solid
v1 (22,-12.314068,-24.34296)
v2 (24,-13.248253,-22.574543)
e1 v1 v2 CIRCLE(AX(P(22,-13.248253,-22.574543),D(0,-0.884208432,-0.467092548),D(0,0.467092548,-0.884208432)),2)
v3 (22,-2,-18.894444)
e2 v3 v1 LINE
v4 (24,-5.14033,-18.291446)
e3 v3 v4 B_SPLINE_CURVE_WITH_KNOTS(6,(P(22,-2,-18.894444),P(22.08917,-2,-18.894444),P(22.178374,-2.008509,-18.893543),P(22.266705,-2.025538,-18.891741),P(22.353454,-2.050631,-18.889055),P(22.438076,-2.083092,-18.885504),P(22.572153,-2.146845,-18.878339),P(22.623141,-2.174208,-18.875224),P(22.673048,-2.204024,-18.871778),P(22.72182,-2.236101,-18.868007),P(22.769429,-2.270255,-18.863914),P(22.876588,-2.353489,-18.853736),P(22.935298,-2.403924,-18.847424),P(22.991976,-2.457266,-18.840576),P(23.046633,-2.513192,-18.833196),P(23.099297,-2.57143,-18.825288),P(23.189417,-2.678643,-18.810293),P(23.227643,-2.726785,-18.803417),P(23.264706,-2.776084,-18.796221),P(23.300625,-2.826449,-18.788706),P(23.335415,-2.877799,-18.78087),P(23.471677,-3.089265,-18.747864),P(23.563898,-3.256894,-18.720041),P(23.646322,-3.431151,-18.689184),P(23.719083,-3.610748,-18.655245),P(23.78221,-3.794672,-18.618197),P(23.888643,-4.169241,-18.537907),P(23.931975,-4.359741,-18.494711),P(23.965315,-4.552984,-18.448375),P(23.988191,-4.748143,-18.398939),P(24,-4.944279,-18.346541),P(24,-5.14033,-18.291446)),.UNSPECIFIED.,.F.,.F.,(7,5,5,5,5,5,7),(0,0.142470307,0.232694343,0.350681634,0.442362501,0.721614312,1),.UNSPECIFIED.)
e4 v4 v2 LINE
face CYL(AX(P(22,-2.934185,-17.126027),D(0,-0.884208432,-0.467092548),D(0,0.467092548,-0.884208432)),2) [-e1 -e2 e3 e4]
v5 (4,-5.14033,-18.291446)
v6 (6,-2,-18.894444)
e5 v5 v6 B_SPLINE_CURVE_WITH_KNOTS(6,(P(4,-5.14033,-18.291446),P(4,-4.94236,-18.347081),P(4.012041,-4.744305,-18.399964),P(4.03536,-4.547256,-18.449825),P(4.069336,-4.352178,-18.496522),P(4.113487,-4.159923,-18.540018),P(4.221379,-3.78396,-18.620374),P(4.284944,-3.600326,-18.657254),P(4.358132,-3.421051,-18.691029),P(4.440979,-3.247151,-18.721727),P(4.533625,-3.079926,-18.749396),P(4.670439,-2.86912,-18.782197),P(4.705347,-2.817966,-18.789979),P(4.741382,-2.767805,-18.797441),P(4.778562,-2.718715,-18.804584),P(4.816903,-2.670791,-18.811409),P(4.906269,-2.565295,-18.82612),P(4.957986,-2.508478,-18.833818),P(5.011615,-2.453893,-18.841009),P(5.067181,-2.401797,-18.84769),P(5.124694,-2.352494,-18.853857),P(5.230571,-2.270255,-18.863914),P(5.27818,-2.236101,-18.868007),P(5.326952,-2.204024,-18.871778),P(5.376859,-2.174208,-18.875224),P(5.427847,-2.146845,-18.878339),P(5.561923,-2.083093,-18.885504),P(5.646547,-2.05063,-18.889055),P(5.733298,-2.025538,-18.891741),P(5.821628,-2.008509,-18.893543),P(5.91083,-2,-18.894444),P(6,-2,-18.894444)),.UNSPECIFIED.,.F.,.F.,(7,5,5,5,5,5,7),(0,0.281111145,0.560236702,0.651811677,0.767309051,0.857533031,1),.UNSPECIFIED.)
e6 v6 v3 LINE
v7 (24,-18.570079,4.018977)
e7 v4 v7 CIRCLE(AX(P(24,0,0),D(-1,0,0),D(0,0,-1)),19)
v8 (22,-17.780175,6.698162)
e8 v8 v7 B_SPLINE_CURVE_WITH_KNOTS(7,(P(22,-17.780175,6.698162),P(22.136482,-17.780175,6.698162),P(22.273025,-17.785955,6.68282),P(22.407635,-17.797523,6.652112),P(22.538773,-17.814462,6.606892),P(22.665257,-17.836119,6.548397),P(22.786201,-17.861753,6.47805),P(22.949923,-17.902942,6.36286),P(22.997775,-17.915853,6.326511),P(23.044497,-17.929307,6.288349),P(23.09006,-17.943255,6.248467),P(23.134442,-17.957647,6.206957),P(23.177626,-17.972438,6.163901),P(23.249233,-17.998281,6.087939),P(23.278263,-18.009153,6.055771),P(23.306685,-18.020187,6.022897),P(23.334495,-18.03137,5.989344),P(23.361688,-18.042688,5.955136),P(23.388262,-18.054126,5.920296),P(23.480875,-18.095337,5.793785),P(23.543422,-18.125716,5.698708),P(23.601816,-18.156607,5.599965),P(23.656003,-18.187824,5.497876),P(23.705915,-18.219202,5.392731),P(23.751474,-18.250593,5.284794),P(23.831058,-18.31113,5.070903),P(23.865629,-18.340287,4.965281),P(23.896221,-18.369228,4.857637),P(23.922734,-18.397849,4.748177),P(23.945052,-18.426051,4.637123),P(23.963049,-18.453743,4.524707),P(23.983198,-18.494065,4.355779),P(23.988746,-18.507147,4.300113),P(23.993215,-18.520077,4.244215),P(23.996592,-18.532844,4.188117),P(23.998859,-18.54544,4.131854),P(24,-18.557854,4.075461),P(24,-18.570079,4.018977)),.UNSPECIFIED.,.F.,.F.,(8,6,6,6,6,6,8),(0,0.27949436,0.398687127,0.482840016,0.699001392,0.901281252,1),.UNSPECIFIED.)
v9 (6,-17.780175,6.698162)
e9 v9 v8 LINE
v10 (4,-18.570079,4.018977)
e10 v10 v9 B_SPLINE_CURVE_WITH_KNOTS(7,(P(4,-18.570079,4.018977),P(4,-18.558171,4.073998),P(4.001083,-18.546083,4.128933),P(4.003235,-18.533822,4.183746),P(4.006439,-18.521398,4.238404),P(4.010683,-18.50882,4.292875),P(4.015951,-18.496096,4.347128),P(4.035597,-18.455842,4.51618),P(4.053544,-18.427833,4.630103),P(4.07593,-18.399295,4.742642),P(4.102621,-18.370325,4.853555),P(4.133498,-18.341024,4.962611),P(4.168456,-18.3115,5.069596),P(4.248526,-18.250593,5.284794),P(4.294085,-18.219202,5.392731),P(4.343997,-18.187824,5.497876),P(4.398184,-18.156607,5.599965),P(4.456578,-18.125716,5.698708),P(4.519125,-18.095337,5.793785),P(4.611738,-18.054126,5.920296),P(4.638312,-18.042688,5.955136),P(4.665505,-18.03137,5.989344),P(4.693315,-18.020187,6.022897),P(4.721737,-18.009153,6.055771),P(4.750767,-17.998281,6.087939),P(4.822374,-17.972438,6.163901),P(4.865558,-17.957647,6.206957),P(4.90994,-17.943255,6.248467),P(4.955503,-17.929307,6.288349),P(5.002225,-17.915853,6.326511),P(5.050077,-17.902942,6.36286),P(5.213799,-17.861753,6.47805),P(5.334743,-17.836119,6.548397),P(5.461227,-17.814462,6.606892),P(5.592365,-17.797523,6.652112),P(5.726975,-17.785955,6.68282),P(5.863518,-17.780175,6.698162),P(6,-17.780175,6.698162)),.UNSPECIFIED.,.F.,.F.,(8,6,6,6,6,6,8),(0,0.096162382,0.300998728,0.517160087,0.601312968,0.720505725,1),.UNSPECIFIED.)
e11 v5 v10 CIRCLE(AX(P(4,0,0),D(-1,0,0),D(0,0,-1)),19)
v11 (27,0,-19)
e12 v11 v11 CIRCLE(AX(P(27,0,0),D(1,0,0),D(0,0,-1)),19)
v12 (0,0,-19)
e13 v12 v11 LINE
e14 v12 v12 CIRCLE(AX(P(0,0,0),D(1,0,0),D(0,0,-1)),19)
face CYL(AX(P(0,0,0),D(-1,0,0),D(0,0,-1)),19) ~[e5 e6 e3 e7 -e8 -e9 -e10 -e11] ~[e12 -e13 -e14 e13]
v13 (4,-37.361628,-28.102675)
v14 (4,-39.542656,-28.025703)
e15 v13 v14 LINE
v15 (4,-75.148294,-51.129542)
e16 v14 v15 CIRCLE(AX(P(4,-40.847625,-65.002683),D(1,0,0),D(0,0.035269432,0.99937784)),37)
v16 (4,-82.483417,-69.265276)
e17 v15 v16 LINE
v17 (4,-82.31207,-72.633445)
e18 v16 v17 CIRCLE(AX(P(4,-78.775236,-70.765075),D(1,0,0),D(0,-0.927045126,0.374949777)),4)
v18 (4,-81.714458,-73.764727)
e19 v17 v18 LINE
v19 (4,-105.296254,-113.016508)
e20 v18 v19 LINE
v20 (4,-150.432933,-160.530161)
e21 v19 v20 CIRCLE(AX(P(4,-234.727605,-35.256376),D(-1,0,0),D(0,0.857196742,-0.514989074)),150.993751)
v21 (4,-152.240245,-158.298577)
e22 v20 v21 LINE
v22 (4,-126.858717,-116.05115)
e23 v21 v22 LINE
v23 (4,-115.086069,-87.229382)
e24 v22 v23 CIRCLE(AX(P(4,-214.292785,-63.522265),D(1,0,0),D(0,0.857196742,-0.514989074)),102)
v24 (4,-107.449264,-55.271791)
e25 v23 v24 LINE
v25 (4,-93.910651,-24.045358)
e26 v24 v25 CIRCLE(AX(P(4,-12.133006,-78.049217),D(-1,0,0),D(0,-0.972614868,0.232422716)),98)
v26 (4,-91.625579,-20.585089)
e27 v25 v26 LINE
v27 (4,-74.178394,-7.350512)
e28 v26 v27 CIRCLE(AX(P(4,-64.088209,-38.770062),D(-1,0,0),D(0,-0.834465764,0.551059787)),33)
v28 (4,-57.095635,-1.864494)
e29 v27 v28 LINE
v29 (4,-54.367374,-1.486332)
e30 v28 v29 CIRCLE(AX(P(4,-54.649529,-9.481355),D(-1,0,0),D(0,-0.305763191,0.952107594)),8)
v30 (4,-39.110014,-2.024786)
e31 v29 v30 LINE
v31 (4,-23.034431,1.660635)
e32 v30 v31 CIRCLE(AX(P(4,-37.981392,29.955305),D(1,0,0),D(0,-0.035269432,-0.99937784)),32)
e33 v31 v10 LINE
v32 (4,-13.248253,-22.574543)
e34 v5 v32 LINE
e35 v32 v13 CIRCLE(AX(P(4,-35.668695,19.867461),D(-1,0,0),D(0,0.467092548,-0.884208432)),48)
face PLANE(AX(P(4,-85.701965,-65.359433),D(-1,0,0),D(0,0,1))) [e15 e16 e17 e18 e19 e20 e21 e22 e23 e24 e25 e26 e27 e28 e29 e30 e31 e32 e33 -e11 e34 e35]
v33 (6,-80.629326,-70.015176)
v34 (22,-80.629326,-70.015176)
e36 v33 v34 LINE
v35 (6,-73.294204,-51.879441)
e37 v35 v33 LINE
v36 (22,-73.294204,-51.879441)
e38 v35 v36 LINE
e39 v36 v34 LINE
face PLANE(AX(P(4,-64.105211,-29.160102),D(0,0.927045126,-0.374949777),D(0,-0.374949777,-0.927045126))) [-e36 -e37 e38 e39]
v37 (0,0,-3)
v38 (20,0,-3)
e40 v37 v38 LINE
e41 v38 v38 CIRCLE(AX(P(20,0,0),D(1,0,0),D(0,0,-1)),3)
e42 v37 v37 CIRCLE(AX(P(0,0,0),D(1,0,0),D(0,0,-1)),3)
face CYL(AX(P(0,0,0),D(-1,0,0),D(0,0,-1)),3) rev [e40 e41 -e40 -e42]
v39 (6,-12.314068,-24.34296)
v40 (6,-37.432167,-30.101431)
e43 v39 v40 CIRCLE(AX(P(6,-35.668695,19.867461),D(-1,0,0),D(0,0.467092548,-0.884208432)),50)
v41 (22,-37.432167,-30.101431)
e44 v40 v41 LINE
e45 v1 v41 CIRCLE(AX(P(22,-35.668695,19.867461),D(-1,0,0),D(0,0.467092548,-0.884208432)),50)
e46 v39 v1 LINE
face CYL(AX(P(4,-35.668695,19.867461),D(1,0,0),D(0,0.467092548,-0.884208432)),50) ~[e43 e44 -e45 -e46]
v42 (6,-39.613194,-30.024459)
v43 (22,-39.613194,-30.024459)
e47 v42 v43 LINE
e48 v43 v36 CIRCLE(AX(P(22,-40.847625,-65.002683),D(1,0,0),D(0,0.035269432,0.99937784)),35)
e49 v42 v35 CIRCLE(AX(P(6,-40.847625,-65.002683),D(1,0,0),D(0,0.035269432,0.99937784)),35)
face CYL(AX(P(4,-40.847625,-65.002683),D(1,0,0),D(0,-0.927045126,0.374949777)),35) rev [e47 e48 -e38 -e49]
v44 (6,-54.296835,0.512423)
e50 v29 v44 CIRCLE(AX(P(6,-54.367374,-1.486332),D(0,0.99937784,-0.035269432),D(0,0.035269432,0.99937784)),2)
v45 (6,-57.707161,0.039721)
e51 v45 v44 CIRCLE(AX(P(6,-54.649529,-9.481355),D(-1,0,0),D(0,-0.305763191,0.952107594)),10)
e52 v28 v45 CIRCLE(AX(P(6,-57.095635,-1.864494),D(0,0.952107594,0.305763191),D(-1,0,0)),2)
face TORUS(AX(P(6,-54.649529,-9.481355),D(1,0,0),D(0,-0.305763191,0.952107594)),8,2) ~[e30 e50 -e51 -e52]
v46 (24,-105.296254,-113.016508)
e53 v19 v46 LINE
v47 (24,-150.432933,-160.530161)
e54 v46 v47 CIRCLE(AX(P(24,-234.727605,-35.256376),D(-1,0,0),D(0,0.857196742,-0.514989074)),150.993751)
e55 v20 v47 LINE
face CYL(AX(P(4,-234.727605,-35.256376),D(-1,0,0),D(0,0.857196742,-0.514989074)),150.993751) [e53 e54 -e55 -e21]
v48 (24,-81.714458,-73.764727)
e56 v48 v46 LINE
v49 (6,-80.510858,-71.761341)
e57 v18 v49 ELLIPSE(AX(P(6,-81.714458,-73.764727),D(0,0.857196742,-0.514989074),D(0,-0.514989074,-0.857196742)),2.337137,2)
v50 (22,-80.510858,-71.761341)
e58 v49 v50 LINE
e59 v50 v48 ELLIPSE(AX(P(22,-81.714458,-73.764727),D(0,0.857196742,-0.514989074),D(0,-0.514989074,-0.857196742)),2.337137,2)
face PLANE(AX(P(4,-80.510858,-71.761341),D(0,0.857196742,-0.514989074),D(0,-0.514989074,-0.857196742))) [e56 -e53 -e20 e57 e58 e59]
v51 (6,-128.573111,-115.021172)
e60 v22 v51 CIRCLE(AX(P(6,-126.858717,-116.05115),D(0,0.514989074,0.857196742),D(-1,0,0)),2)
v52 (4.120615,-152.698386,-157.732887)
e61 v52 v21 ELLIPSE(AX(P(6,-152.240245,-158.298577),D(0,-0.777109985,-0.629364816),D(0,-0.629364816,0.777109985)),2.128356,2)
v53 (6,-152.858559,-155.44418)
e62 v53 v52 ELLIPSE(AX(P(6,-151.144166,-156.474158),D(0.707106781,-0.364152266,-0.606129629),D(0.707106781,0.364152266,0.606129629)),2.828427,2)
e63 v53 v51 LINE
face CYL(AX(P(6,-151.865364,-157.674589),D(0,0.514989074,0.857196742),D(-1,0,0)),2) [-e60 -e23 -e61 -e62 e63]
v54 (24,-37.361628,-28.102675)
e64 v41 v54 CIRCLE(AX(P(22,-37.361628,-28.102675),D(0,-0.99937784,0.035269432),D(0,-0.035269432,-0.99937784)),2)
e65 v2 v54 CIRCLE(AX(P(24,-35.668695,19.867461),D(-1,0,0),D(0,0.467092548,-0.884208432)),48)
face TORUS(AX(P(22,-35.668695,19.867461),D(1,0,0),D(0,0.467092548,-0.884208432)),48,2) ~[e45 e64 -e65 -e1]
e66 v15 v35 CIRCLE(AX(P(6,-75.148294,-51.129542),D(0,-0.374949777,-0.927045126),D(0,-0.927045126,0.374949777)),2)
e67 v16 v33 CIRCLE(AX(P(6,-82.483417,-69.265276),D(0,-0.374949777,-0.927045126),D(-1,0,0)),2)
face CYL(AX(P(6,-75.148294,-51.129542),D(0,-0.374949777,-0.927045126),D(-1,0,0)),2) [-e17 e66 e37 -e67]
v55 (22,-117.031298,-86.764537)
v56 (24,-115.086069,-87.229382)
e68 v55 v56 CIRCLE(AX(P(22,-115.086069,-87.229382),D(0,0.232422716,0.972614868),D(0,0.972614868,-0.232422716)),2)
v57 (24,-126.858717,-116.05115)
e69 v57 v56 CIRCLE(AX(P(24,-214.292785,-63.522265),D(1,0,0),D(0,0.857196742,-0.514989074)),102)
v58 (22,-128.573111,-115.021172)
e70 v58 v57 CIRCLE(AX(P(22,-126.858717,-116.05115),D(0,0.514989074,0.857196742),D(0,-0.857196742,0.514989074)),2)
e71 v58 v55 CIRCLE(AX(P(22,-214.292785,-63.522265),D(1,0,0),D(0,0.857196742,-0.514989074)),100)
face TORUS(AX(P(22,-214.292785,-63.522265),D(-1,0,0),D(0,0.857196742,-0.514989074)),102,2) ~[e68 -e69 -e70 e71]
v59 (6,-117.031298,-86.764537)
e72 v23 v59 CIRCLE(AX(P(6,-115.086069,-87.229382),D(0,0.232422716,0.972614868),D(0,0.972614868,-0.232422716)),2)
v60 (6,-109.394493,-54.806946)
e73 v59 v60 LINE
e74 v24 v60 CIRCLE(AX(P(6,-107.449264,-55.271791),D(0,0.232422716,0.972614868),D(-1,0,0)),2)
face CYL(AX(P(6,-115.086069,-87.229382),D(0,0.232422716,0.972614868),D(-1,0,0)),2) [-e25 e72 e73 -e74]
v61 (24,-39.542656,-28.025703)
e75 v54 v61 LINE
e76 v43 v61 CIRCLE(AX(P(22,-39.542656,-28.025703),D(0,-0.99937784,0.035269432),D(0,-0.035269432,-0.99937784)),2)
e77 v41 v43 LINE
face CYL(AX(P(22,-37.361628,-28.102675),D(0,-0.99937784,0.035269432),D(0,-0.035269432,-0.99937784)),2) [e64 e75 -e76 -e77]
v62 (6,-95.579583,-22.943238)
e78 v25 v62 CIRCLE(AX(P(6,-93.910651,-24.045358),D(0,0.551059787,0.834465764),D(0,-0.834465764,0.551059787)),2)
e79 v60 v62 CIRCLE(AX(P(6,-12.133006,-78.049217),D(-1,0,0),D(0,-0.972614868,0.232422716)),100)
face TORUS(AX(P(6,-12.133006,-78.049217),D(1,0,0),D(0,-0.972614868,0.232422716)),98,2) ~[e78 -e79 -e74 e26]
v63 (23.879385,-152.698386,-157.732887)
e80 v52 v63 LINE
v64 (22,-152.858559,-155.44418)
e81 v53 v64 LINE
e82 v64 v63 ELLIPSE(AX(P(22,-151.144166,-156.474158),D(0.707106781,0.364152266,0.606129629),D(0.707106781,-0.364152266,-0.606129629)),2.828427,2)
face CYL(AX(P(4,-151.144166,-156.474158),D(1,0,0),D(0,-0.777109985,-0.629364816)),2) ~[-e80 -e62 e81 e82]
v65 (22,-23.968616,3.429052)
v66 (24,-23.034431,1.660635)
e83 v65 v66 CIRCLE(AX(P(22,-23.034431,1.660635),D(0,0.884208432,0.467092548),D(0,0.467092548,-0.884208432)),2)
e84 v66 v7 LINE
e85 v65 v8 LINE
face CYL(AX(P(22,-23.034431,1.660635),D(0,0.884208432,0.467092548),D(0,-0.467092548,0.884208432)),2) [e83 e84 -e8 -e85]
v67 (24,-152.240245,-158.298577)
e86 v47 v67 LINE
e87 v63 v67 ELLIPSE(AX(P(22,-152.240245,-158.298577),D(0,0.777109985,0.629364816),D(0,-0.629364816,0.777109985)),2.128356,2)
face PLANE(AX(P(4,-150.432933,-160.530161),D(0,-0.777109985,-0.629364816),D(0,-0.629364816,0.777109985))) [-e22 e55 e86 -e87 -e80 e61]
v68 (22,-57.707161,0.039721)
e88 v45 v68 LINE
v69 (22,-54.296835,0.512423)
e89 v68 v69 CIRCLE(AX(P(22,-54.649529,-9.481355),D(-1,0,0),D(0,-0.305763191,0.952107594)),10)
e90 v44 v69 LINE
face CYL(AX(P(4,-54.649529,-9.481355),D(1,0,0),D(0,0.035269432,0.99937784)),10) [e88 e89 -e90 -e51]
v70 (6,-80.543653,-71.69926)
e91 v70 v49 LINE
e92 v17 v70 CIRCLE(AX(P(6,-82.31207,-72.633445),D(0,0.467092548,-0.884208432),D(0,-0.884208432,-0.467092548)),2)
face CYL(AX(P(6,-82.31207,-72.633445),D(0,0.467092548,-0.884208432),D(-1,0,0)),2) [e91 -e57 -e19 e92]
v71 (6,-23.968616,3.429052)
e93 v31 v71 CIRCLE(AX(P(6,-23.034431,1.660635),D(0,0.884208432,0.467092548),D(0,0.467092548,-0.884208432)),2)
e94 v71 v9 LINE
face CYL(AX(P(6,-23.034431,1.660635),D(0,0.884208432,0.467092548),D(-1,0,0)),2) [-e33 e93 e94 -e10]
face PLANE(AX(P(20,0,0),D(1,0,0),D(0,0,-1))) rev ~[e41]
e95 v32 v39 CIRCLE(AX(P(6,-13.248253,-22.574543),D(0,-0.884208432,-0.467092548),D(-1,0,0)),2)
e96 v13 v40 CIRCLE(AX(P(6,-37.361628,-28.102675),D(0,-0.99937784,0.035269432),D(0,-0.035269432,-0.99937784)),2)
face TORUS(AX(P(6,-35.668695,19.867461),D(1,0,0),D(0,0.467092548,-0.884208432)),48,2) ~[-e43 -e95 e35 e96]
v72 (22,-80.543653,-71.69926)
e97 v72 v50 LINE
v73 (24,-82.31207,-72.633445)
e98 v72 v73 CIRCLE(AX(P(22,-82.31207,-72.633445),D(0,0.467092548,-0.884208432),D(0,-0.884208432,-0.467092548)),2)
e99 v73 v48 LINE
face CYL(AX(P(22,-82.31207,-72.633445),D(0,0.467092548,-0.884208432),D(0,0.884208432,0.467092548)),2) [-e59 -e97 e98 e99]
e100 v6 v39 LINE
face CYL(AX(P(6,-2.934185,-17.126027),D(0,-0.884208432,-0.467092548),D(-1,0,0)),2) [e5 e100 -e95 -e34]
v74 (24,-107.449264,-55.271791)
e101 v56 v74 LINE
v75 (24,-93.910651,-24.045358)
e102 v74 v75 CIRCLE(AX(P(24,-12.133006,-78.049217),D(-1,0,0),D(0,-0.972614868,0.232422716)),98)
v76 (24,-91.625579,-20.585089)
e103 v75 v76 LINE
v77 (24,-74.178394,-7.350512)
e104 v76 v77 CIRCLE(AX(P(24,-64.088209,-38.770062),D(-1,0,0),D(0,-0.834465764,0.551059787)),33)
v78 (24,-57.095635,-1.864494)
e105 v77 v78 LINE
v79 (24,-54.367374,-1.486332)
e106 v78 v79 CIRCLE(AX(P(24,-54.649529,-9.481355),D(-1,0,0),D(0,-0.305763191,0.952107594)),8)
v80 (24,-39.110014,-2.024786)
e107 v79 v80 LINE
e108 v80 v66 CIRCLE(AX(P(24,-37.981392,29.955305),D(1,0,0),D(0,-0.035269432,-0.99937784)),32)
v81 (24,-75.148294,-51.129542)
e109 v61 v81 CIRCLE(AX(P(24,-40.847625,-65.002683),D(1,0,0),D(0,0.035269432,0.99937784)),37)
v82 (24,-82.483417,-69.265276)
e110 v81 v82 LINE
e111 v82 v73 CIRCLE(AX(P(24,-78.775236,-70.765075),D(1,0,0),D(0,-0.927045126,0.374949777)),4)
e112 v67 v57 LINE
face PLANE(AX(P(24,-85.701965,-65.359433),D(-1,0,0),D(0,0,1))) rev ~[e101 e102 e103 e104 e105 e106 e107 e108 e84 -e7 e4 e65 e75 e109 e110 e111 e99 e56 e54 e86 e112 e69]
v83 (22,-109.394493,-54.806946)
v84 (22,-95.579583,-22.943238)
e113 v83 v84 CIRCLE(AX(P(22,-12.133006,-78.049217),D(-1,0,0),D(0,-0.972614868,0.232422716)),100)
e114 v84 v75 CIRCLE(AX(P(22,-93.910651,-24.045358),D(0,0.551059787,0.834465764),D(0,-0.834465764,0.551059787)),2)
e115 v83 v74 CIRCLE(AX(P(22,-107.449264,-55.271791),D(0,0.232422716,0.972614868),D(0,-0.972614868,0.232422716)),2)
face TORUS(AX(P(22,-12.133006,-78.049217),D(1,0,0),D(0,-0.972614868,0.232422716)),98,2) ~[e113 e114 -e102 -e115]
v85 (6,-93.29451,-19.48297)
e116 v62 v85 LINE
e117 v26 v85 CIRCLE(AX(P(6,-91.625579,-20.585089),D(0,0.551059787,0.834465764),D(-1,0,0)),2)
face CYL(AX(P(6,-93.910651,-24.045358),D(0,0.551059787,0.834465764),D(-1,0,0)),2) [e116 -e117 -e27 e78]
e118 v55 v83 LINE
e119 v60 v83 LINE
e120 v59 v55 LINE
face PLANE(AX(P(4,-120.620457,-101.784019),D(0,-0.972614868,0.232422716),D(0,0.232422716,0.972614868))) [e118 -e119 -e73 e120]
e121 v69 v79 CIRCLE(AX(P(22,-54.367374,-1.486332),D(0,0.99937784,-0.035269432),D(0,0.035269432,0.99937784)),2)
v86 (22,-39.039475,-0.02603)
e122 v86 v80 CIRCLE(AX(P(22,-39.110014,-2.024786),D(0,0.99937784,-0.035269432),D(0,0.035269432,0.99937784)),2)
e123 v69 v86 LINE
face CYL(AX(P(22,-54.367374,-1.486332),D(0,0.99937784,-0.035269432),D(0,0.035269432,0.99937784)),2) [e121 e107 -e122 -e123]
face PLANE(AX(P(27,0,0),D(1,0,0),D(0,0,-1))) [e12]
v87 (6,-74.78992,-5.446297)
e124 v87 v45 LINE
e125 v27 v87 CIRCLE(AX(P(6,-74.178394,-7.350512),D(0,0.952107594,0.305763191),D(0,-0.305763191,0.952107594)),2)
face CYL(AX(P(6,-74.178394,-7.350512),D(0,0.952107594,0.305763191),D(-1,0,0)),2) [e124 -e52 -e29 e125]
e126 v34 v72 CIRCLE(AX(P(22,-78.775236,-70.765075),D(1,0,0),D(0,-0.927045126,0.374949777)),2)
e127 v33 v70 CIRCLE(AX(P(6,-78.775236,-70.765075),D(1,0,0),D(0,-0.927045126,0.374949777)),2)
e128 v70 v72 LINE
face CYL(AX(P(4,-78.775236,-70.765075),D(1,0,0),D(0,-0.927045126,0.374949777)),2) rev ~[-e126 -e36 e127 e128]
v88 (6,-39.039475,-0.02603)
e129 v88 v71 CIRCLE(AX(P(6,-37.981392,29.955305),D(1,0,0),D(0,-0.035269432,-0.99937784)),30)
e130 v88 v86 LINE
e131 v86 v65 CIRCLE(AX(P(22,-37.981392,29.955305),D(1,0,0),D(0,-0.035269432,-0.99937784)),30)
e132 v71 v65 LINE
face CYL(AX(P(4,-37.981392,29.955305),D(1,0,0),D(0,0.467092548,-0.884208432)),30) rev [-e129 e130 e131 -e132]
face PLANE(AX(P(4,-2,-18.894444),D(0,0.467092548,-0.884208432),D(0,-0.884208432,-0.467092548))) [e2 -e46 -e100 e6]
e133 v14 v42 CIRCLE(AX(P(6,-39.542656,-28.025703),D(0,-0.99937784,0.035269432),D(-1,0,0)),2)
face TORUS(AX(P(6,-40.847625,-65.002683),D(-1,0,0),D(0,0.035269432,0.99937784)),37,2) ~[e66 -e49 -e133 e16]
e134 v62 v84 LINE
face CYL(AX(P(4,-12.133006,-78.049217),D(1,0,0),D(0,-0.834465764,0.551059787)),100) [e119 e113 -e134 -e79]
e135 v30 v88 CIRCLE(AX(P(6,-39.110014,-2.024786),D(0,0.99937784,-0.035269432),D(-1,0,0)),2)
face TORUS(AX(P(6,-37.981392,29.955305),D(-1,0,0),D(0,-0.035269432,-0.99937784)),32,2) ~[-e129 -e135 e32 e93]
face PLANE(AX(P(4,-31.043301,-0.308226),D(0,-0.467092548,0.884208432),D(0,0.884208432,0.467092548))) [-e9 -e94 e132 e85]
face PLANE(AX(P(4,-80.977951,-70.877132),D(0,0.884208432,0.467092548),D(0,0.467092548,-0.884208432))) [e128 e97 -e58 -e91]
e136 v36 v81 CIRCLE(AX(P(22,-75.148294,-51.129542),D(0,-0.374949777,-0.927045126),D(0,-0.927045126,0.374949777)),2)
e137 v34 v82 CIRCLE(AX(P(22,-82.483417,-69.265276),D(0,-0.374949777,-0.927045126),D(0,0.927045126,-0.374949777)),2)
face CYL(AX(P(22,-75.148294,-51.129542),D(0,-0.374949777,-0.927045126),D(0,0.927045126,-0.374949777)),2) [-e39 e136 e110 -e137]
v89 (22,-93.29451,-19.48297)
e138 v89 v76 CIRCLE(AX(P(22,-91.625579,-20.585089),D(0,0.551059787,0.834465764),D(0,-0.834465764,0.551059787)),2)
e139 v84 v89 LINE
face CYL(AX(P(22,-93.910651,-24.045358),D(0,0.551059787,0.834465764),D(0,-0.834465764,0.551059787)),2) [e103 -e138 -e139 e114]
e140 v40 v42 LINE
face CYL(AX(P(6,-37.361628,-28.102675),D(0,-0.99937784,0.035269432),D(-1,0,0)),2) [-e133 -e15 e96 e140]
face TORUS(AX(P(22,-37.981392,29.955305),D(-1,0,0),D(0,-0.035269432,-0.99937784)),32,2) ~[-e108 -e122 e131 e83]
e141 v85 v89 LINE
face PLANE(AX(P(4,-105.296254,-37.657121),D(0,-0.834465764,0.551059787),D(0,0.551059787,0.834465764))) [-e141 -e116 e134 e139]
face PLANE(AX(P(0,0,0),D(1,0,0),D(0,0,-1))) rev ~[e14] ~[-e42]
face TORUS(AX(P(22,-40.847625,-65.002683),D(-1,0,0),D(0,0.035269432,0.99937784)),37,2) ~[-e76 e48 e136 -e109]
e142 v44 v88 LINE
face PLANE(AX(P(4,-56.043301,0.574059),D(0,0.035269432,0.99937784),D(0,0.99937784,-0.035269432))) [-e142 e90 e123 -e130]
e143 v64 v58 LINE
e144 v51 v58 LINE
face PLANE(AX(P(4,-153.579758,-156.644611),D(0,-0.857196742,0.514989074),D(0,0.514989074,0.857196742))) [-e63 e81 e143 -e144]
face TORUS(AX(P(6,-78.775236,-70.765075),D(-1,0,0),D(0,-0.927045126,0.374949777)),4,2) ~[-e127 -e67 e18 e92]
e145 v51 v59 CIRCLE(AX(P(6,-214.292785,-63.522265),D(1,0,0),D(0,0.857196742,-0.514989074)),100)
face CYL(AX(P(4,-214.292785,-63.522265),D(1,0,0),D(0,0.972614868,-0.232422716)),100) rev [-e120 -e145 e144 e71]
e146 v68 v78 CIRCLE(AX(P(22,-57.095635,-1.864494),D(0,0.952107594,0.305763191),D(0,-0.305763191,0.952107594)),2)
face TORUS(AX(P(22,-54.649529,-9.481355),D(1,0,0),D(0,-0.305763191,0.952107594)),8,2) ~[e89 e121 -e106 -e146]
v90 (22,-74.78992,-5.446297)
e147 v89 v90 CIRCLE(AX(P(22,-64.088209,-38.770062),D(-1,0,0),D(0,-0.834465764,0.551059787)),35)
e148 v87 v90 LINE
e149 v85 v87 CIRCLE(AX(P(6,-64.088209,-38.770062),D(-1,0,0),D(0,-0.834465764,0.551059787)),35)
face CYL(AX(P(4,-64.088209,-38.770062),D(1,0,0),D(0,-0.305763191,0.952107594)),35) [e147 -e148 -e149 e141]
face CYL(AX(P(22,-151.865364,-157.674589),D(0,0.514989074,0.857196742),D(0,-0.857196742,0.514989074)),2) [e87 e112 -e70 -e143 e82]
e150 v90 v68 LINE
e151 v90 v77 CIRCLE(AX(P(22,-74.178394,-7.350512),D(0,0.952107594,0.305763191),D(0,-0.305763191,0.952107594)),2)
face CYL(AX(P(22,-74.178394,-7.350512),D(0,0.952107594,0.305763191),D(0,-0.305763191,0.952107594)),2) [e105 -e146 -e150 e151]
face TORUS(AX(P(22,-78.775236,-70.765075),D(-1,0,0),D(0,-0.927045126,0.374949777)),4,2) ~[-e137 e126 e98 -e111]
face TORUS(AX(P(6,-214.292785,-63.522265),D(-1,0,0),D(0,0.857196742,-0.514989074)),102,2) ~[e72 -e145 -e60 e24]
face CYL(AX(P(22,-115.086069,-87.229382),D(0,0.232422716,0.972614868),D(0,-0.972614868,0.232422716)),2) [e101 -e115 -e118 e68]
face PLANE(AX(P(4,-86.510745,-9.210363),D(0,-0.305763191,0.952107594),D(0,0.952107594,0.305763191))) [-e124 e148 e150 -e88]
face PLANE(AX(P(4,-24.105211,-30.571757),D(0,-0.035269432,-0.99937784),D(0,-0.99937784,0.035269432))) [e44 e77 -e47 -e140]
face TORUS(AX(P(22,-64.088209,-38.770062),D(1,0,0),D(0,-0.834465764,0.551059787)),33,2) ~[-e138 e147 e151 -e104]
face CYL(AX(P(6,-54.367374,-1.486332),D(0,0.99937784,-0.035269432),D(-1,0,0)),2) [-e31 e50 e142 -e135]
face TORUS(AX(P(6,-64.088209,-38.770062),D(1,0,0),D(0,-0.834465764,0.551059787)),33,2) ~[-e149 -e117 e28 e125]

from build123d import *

# Parameters (mm, degrees)
SKETCH1_R           = 19
BOSS_EXTRUDE1_DEPTH = 27
CUT_EXTRUDE1_START  = -27
SKETCH2_R           = 3
CUT_EXTRUDE1_DEPTH  = 20
BOSS_EXTRUDE2_START = 4
BOSS_EXTRUDE2_DEPTH = 20
FILLET1_R           = 50
FILLET2_R           = 30
FILLET3_R           = 10
FILLET4_R           = 35
FILLET5_R           = 100
FILLET6_R           = 35
FILLET7_R           = 2
FILLET8_R           = 2


with BuildPart() as part:
    # Sketch1 → Boss-Extrude1 (new body)
    with BuildSketch(Plane(origin=(0, 0, 0), x_dir=(0, 0, -1), z_dir=(1, 0, 0))):
        Circle(SKETCH1_R)
    extrude(amount=BOSS_EXTRUDE1_DEPTH)

    # Sketch2 → Cut-Extrude1 (cut)
    with BuildSketch(Plane(origin=(27, 0, 0), x_dir=(0, 0, -1), z_dir=(1, 0, 0)).offset(CUT_EXTRUDE1_START)):
        Circle(SKETCH2_R)
    extrude(amount=CUT_EXTRUDE1_DEPTH, mode=Mode.SUBTRACT)

    # Sketch3 → Boss-Extrude2 (add)
    with BuildSketch(Plane(origin=(0, 0, 0), x_dir=(0, 0, -1), z_dir=(1, 0, 0)).offset(BOSS_EXTRUDE2_START)):
        with BuildLine():
            Line((18.894443628, -2), (30.571757329, -24.105210805))
            Line((30.571757329, -24.105210805), (29.160101789, -64.105210805))
            Line((29.160101789, -64.105210805), (70.877132442, -80.977950757))
            Line((70.877132442, -80.977950757), (71.761340874, -80.510858209))
            Line((71.761340874, -80.510858209), (113.01650789, -105.296253694))
            ThreePointArc((113.01650789, -105.296253694), (139.2516778, -125.255736415), (160.530160786, -150.432933488))
            Line((160.530160786, -150.432933488), (156.644610862, -153.579757568))
            Line((156.644610862, -153.579757568), (101.784019397, -120.620456846))
            Line((101.784019397, -120.620456846), (37.657121196, -105.296253694))
            Line((37.657121196, -105.296253694), (9.210363464, -86.510744513))
            Line((9.210363464, -86.510744513), (-0.574058656, -56.0433015))
            Line((-0.574058656, -56.0433015), (0.308226057, -31.0433015))
            Line((0.308226057, -31.0433015), (-6.698162164, -17.780175017))
            Line((-6.698162164, -17.780175017), (18.894443628, -2))
        make_face()
    extrude(amount=BOSS_EXTRUDE2_DEPTH)

    # Fillet1
    fillet1_edges = [part.edges().sort_by_distance(p)[0] for p in [
        (14, -24.105210805, -30.571757329),
    ]]
    fillet(fillet1_edges, radius=FILLET1_R)

    # Fillet2
    fillet2_edges = [part.edges().sort_by_distance(p)[0] for p in [
        (14, -31.0433015, -0.308226057),
    ]]
    fillet(fillet2_edges, radius=FILLET2_R)

    # Fillet3
    fillet3_edges = [part.edges().sort_by_distance(p)[0] for p in [
        (14, -56.0433015, 0.574058656),
    ]]
    fillet(fillet3_edges, radius=FILLET3_R)

    # Fillet4
    fillet4_edges = [part.edges().sort_by_distance(p)[0] for p in [
        (14, -86.510744513, -9.210363464),
    ]]
    fillet(fillet4_edges, radius=FILLET4_R)

    # Fillet5
    fillet5_edges = [part.edges().sort_by_distance(p)[0] for p in [
        (14, -105.296253694, -37.657121196),
        (14, -120.620456846, -101.784019397),
    ]]
    fillet(fillet5_edges, radius=FILLET5_R)

    # Fillet6
    fillet6_edges = [part.edges().sort_by_distance(p)[0] for p in [
        (14, -64.105210805, -29.160101789),
    ]]
    fillet(fillet6_edges, radius=FILLET6_R)

    # Fillet7
    fillet7_edges = [part.edges().sort_by_distance(p)[0] for p in [
        (14, -80.977950757, -70.877132442),
    ]]
    fillet(fillet7_edges, radius=FILLET7_R)

    # Fillet8
    fillet8_edges = [part.edges().sort_by_distance(p)[0] for p in [
        (4, -20.874395385, 5.063607207),
        (14, -153.579757568, -156.644610862),
        (4, -80.527255596, -71.730300543),
        (24, -20.874395385, 5.063607207),
        (24, -80.527255596, -71.730300543),
        (4, -7.157033947, -21.61870189),
        (24, -7.157033947, -21.61870189),
        (4, -24.495759346, -28.868208254),
        (24, -24.495759346, -28.868208254),
        (4, -46.668154937, 0.243196716),
        (24, -46.668154937, 0.243196716),
        (4, -31.277630624, 0.713903389),
        (24, -31.277630624, 0.713903389),
        (4, -66.24854061, -2.70328783),
        (24, -66.24854061, -2.70328783),
        (4, -56.022494361, 0.423944925),
        (24, -56.022494361, 0.423944925),
        (4, -94.437046571, -21.213104097),
        (24, -94.437046571, -21.213104097),
        (4, -85.240499997, -10.884930764),
        (24, -85.240499997, -10.884930764),
        (4, -141.076434231, -135.832891606),
        (24, -141.076434231, -135.832891606),
        (4, -113.212895767, -70.785741018),
        (24, -113.212895767, -70.785741018),
        (4, -103.880894632, -38.270767893),
        (24, -103.880894632, -38.270767893),
        (4, -121.717757742, -101.335811711),
        (24, -121.717757742, -101.335811711),
        (4, -38.522680641, -30.0629448),
        (24, -38.522680641, -30.0629448),
        (4, -59.899123869, -35.642159411),
        (24, -59.899123869, -35.642159411),
        (4, -76.961765139, -60.947308417),
        (24, -76.961765139, -60.947308417),
        (4, -80.772653132, -70.866688464),
        (24, -80.772653132, -70.866688464),
    ]]
    fillet(fillet8_edges, radius=FILLET8_R)


solid = part.part
